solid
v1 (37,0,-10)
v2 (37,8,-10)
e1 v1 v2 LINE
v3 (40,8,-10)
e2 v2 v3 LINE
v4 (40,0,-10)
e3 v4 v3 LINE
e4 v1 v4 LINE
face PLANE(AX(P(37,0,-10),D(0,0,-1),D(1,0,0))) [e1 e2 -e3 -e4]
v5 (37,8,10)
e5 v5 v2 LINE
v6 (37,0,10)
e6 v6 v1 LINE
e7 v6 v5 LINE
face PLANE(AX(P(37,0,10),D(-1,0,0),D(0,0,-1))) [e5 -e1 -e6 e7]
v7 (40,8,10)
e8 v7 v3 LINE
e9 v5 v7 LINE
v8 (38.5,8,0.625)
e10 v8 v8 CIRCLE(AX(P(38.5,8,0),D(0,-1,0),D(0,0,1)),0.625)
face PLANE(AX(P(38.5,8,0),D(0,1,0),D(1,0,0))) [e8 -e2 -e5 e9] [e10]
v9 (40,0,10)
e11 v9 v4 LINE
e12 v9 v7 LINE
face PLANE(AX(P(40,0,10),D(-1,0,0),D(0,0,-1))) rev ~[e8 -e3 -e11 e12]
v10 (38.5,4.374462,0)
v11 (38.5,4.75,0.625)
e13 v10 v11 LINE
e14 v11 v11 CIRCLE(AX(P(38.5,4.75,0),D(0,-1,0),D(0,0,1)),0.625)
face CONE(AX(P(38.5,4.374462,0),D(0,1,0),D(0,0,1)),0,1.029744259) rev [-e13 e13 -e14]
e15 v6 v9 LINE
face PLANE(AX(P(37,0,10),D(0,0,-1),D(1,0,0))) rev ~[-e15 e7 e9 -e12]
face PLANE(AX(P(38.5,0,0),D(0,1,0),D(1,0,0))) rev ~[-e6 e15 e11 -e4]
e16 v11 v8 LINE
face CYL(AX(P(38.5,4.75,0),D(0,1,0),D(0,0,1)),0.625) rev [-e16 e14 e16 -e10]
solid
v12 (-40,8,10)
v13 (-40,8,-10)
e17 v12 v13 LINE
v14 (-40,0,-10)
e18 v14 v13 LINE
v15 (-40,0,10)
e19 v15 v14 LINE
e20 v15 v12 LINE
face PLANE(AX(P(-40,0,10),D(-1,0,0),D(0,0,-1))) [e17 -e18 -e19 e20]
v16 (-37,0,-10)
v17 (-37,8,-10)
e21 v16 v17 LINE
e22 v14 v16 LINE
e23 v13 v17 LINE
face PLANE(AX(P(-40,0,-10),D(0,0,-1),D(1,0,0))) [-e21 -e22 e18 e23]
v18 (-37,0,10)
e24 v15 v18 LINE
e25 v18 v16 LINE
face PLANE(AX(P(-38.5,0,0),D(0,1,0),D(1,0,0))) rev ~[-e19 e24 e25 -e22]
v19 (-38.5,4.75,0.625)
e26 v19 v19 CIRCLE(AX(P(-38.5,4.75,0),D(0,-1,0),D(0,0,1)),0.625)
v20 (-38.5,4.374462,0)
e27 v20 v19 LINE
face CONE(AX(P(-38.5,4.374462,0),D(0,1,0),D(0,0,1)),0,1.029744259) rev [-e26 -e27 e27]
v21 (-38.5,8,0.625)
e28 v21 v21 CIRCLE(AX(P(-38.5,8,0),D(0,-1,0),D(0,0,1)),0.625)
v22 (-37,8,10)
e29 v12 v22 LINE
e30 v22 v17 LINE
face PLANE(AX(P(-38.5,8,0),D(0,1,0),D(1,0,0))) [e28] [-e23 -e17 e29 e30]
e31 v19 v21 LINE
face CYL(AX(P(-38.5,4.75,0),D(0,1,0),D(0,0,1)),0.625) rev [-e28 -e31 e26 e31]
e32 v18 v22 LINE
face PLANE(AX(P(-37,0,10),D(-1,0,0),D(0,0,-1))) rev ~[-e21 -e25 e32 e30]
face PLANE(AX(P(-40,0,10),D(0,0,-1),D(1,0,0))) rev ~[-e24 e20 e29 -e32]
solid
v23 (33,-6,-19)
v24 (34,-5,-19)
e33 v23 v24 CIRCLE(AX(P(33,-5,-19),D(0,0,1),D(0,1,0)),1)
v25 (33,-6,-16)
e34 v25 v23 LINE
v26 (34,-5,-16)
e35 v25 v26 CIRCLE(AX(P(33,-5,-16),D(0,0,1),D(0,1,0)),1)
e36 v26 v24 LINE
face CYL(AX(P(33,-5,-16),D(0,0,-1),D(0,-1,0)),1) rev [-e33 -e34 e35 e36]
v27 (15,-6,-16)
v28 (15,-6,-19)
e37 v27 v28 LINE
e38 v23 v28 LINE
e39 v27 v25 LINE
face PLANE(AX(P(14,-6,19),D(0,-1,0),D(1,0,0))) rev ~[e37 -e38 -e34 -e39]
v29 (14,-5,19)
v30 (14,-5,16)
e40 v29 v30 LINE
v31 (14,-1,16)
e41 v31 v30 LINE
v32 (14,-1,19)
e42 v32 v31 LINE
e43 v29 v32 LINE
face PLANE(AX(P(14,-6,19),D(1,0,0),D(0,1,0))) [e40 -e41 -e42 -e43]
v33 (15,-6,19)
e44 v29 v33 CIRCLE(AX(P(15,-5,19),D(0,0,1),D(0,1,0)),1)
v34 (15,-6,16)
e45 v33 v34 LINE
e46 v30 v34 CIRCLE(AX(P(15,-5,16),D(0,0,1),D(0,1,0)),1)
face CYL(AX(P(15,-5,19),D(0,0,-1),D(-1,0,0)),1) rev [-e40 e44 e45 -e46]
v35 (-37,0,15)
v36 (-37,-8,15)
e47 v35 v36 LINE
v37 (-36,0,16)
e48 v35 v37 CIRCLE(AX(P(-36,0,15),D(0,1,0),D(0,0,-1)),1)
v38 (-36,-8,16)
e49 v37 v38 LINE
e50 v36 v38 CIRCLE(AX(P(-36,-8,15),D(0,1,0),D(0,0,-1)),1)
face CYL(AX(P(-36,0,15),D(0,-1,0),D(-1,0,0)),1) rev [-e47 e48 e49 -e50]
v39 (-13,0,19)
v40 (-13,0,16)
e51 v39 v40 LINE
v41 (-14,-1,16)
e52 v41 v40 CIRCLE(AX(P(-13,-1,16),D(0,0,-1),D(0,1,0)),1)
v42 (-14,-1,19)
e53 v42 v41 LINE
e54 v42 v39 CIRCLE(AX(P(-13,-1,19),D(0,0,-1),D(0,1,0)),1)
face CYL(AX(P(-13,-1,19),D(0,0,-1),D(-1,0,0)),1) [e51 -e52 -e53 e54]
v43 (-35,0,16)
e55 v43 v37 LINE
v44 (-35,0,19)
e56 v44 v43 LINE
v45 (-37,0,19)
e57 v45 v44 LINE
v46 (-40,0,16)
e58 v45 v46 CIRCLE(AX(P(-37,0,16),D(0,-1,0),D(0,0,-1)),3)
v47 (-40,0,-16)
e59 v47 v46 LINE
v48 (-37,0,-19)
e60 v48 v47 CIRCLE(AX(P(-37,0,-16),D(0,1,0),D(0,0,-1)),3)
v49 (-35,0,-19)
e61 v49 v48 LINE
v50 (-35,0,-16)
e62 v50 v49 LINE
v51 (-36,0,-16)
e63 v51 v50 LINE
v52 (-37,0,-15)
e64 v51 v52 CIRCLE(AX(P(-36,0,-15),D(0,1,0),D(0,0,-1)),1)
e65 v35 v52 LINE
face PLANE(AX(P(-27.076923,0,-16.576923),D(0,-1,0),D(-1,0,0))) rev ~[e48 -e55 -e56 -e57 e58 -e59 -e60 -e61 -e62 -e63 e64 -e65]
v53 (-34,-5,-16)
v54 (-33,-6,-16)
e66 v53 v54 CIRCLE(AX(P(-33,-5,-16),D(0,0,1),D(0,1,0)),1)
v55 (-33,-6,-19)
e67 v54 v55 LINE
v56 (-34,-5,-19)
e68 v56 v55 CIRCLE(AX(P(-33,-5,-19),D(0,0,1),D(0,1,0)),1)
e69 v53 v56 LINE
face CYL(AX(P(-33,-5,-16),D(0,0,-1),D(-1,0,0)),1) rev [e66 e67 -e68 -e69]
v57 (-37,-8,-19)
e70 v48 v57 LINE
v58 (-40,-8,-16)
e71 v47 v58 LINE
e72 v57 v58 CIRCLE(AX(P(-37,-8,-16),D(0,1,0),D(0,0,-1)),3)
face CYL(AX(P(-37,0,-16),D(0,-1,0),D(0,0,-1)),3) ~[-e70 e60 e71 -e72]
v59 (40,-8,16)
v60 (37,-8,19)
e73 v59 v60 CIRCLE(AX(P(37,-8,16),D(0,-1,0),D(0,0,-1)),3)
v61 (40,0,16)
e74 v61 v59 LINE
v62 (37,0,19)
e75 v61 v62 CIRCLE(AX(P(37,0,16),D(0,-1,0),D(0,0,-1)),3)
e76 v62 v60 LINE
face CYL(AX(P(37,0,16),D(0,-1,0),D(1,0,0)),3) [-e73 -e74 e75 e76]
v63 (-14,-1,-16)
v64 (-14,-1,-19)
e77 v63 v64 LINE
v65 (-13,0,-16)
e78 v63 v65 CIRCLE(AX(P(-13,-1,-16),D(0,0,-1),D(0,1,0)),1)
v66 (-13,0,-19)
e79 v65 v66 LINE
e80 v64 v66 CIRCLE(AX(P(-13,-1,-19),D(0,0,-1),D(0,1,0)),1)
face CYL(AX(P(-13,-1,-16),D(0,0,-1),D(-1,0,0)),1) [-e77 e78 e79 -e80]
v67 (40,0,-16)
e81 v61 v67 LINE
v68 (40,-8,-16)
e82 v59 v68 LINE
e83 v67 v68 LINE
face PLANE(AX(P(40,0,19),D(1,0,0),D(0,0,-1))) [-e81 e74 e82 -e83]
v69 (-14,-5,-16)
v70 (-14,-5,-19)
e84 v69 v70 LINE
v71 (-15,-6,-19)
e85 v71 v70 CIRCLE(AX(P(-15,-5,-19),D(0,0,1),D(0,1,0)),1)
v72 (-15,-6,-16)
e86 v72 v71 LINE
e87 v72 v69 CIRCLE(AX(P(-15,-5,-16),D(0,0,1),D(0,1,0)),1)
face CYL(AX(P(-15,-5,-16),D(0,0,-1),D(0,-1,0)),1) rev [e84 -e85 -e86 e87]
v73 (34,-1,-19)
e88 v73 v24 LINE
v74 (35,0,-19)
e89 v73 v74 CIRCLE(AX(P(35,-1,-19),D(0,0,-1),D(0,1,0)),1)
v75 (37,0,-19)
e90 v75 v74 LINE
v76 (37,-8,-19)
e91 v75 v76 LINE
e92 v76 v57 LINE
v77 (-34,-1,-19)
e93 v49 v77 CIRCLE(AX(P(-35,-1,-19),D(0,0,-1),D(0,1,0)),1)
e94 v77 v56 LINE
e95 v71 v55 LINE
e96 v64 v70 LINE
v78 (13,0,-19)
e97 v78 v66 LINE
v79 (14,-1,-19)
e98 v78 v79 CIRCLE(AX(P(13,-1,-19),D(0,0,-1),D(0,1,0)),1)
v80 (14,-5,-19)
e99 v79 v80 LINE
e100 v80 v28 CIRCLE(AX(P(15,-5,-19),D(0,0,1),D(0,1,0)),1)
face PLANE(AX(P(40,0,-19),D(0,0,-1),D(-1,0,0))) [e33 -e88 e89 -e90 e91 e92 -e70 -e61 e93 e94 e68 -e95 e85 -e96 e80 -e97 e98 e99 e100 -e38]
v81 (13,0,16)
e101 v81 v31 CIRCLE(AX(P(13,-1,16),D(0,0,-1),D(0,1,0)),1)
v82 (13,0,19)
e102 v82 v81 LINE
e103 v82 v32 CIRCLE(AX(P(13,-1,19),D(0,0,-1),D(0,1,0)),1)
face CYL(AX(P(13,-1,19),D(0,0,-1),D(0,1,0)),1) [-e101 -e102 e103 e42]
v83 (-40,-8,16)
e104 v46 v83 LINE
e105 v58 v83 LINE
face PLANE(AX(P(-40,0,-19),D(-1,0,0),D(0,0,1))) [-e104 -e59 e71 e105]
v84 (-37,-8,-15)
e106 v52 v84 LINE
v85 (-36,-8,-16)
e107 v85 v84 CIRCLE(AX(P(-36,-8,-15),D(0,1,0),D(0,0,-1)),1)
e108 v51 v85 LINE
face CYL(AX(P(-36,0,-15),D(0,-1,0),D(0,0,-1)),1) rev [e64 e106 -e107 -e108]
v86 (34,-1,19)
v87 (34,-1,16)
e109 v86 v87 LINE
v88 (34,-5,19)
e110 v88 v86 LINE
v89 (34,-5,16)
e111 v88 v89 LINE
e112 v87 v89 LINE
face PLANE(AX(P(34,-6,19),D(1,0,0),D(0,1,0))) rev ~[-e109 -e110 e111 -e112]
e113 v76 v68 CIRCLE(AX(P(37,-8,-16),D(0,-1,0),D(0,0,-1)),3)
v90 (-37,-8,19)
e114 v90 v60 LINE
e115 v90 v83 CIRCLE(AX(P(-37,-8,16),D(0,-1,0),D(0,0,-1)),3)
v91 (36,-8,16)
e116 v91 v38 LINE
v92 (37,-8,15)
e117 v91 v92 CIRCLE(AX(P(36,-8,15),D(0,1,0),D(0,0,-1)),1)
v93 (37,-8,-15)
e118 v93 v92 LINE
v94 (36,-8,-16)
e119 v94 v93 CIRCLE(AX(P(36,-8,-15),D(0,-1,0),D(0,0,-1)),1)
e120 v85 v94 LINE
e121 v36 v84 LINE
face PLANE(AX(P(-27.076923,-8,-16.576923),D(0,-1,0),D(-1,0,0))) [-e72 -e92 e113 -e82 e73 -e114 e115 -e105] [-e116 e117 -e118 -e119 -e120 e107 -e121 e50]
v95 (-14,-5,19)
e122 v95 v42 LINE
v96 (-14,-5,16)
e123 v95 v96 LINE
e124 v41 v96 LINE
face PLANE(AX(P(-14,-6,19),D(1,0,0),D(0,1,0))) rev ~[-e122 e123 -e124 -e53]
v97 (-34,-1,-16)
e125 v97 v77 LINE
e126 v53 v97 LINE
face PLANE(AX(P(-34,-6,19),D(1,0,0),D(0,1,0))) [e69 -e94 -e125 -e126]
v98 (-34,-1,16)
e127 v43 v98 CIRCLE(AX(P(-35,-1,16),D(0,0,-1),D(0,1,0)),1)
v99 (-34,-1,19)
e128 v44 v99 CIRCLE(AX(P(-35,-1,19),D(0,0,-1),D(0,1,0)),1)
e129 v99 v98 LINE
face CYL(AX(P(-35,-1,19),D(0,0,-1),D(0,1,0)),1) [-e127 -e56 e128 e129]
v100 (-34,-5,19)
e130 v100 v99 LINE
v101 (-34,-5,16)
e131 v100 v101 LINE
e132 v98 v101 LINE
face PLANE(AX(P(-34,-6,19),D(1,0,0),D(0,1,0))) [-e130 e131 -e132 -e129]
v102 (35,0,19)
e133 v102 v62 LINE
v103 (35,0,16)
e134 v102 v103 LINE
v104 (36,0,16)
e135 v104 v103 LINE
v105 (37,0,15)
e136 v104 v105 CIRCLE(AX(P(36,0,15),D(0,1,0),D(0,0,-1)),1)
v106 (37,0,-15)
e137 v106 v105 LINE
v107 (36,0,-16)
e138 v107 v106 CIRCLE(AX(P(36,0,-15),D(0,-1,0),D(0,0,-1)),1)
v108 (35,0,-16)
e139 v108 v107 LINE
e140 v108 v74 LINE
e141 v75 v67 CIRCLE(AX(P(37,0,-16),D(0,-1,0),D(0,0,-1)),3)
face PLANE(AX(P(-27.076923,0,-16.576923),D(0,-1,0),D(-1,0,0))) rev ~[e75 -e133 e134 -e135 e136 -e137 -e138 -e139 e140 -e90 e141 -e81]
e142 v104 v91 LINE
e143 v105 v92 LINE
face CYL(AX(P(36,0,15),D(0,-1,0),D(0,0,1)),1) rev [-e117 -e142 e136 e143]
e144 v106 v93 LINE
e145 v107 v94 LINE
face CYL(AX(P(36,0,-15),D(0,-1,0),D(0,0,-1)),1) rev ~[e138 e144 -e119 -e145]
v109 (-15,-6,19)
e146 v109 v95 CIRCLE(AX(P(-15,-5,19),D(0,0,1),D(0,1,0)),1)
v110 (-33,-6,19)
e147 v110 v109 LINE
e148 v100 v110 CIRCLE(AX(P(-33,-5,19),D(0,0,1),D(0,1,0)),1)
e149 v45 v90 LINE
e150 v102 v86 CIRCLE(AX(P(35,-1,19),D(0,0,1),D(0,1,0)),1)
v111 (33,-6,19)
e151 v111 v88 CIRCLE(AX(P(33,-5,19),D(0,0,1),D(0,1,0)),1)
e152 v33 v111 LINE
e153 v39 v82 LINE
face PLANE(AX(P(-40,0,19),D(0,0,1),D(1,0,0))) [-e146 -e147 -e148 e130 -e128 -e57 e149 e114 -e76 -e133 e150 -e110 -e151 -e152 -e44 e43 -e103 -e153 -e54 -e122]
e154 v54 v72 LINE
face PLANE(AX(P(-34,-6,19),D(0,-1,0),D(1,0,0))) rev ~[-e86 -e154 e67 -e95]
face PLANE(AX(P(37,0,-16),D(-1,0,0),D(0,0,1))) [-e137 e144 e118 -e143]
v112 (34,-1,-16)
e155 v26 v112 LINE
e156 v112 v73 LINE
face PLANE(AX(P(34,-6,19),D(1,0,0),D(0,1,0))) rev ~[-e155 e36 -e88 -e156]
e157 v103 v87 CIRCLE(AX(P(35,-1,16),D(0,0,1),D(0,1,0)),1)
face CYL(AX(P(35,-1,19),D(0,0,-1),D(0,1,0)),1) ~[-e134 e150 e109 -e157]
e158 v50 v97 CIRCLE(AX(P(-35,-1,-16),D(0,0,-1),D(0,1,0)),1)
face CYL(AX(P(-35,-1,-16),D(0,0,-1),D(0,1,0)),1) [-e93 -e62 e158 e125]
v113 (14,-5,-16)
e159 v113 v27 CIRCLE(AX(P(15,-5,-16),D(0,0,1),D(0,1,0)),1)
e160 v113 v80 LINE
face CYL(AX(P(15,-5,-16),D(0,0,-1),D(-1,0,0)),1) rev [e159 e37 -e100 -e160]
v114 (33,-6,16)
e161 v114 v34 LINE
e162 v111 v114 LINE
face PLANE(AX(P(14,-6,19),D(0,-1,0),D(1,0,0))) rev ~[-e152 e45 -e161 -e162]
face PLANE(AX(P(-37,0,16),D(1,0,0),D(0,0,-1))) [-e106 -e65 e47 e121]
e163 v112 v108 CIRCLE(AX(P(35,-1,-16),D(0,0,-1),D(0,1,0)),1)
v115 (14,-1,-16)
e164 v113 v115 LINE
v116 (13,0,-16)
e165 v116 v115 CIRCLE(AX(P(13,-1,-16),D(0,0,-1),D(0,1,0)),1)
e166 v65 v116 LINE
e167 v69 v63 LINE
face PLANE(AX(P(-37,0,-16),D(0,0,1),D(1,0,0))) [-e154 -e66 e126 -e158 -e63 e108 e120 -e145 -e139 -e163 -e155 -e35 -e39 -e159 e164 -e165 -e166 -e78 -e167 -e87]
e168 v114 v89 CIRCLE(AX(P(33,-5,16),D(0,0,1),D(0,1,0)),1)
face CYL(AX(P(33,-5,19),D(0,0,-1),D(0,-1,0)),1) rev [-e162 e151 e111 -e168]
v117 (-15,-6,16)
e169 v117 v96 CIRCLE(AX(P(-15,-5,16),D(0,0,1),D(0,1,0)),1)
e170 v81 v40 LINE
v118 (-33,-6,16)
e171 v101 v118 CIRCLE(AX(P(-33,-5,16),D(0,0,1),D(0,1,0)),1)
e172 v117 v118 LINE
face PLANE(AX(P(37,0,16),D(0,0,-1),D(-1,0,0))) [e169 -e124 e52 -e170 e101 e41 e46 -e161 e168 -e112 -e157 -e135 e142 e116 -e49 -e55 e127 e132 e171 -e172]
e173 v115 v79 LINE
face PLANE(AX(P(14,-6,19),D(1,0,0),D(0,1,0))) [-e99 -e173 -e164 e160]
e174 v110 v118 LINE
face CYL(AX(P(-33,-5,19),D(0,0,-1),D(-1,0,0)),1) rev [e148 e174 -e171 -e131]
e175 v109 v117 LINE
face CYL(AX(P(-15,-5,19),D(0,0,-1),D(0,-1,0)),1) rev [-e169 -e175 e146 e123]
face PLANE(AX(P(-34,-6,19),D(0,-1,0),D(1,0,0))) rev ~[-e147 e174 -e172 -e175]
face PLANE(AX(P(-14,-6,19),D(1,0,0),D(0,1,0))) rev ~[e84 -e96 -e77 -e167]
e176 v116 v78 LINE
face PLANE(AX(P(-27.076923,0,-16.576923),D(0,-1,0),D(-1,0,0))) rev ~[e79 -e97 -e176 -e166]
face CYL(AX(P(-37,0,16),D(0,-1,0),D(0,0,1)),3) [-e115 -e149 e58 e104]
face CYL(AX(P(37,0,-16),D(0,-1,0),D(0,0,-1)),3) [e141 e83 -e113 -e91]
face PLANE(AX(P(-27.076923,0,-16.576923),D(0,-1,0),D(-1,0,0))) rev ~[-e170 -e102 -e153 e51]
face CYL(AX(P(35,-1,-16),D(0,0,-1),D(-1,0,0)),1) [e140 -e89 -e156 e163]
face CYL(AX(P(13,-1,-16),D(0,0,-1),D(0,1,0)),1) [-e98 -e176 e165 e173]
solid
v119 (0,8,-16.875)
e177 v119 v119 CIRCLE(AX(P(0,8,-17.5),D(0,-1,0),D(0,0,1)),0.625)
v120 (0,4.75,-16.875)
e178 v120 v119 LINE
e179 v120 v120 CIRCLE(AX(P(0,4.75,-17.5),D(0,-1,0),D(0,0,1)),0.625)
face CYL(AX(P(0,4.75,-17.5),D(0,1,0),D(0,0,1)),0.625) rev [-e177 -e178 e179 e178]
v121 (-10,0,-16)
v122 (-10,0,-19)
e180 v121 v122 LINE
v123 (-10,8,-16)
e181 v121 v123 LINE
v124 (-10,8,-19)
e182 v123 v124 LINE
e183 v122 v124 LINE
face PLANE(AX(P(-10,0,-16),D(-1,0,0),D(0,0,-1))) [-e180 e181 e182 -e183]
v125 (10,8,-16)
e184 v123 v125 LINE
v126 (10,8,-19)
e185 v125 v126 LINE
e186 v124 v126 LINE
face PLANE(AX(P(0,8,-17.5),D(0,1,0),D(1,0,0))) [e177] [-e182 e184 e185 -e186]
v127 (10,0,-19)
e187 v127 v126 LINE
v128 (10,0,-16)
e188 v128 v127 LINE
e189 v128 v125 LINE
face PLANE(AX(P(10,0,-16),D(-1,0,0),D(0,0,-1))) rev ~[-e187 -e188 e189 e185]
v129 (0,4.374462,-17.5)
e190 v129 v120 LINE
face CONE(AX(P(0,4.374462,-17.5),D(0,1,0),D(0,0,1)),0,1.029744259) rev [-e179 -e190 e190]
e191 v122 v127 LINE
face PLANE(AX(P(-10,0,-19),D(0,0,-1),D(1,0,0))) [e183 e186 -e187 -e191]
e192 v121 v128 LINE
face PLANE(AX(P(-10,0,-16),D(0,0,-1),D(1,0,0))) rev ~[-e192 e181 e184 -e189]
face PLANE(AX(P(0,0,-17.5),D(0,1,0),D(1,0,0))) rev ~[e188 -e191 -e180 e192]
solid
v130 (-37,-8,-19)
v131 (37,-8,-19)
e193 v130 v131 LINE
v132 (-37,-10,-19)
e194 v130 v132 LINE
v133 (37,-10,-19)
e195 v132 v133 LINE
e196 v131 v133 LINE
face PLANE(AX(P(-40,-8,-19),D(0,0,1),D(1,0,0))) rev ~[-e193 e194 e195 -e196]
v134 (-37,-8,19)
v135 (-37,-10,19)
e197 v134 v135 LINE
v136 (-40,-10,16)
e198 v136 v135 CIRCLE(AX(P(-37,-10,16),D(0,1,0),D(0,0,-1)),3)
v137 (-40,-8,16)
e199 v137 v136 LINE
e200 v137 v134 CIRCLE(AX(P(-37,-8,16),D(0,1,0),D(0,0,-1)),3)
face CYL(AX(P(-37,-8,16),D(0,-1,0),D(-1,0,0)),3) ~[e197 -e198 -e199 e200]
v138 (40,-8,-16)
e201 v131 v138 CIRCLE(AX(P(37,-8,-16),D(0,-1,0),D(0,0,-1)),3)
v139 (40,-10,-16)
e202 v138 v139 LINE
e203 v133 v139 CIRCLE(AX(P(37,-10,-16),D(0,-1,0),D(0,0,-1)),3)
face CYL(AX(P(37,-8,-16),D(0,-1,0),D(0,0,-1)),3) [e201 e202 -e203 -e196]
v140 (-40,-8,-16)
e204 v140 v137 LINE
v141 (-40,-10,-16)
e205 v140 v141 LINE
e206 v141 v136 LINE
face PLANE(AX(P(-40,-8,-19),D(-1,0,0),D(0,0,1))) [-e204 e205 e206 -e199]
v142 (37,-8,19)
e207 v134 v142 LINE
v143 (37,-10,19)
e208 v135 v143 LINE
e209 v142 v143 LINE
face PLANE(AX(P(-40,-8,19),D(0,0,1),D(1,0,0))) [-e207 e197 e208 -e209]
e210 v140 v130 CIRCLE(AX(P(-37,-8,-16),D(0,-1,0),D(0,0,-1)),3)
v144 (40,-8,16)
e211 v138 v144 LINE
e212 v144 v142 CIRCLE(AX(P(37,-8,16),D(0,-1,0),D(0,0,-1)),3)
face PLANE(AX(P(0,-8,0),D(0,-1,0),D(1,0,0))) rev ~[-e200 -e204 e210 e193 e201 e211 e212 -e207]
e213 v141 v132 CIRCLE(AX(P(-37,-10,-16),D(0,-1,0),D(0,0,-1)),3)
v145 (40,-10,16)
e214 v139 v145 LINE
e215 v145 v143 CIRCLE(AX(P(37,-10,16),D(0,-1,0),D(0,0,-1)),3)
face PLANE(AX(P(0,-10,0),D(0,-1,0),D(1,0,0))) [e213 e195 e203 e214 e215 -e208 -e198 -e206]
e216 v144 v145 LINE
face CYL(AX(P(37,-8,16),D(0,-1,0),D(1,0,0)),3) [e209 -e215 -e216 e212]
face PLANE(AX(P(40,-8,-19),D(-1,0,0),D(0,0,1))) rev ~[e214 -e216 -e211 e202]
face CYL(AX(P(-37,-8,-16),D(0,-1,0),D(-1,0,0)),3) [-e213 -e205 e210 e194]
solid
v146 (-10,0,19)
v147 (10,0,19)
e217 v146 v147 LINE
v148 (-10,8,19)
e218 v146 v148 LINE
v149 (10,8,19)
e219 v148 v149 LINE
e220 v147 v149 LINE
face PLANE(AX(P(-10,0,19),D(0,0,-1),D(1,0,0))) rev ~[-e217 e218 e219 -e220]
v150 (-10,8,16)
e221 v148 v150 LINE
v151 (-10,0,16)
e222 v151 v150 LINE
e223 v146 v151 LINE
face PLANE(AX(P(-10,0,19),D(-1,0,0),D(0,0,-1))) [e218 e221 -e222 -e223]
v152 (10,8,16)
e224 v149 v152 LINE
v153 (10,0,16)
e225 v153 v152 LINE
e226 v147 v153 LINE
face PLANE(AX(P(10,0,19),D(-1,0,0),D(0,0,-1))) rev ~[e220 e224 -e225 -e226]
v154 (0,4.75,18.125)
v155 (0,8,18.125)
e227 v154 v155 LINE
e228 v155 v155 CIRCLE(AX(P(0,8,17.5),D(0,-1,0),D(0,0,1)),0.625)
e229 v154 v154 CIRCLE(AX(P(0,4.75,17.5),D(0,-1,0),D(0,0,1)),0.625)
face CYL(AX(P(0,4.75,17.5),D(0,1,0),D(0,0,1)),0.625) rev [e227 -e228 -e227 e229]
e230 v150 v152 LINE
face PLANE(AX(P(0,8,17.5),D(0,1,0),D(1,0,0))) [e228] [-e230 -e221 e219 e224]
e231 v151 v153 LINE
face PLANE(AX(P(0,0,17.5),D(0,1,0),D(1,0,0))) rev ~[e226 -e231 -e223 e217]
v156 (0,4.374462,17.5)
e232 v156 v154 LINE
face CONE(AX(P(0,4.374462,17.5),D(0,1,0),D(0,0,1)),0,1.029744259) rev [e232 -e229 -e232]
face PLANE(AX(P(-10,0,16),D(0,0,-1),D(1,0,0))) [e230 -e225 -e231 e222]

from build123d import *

# Parameters (mm, degrees)
SKETCH1_W                         = 3
SKETCH1_H                         = 20
SKETCH1_W_2                       = 20
SKETCH1_H_2                       = 3
BOSS_EXTRUDE1_DEPTH               = 8
SKETCH1_4_W                       = 3
SKETCH1_4_H                       = 20
BOSS_EXTRUDE4_DEPTH               = 8
SKETCH1_4_W_2                     = 20
SKETCH1_4_H_2                     = 3
BOSS_EXTRUDE4_2_DEPTH             = 8
BOSS_EXTRUDE4_3_DEPTH             = 8
BOSS_EXTRUDE4_4_DEPTH             = 8
SKETCH2_W                         = 80
SKETCH2_H                         = 38
BOSS_EXTRUDE2_DEPTH               = 2
FILLET2_R                         = 3
FILLET1_R                         = 3
FILLET3_R                         = 1
SKETCH4_W                         = 20
SKETCH4_H                         = 6
CUT_EXTRUDE1_DEPTH                = 1
CUT_EXTRUDE1_DEPTH_BACK           = 39
FILLET4_R                         = 1
M1_6X0_35_TAPPED_HOLE1_AT_2_COUNT = 2
M1_6X0_35_TAPPED_HOLE1_AT_2_PITCH = 42.290660908
M1_6X0_35_TAPPED_HOLE1_AT_3_COUNT = 2
M1_6X0_35_TAPPED_HOLE1_AT_3_PITCH = 42.290660908
M1_6X0_35_TAPPED_HOLE1_AT_4_COUNT = 2
M1_6X0_35_TAPPED_HOLE1_AT_4_PITCH = 77


with BuildPart() as part:
    # Sketch1 → Boss-Extrude1 (new body)
    with BuildSketch(Plane(origin=(0, 0, 0), x_dir=(1, 0, 0), z_dir=(0, 1, 0))):
        Polygon((-40, 19), (-10, 19), (-10, 16), (-37, 16), (-37, 10), (-40, 10), align=None)
        with Locations((-38.5, 0)):
            Rectangle(SKETCH1_W, SKETCH1_H)
        Polygon((-40, -19), (-10, -19), (-10, -16), (-37, -16), (-37, -10), (-40, -10), align=None)
        with Locations((0, -17.5)):
            Rectangle(SKETCH1_W_2, SKETCH1_H_2)
        Polygon((40, -10), (40, -19), (10, -19), (10, -16), (37, -16), (37, -10), align=None)
        with Locations((38.5, 0)):
            Rectangle(SKETCH1_W, SKETCH1_H)
        Polygon((40, 10), (37, 10), (37, 16), (10, 16), (10, 19), (40, 19), align=None)
        with Locations((0, 17.5)):
            Rectangle(SKETCH1_W_2, SKETCH1_H_2)
    extrude(amount=-BOSS_EXTRUDE1_DEPTH)

    # Fillet1
    fillet1_edges = [part.edges().sort_by_distance(p)[0] for p in [
        (40, -4, -19),
        (40, -4, 19),
        (-40, -4, 19),
        (-40, -4, -19),
    ]]
    fillet(fillet1_edges, radius=FILLET1_R)

    # Fillet3
    fillet3_edges = [part.edges().sort_by_distance(p)[0] for p in [
        (37, -4, -16),
        (-37, -4, -16),
        (-37, -4, 16),
        (37, -4, 16),
    ]]
    fillet(fillet3_edges, radius=FILLET3_R)

    # Sketch4 → Cut-Extrude1 (cut, two sides)
    with BuildSketch(Plane.XY.offset(19)) as cut_extrude1_sk:
        with Locations((-24, -3)):
            Rectangle(SKETCH4_W, SKETCH4_H)
        with Locations((24, -3)):
            Rectangle(SKETCH4_W, SKETCH4_H)
    extrude(amount=CUT_EXTRUDE1_DEPTH, mode=Mode.SUBTRACT)
    extrude(cut_extrude1_sk.sketch, amount=-CUT_EXTRUDE1_DEPTH_BACK, mode=Mode.SUBTRACT)

    # Fillet4
    fillet4_edges = [part.edges().sort_by_distance(p)[0] for p in [
        (14, 0, 17.5),
        (34, 0, 17.5),
        (-34, 0, 17.5),
        (-14, 0, 17.5),
        (-14, -6, 17.5),
        (-34, -6, 17.5),
        (-14, 0, -17.5),
        (-14, -6, -17.5),
        (-34, -6, -17.5),
        (-34, 0, -17.5),
        (34, -6, 17.5),
        (14, -6, 17.5),
        (34, 0, -17.5),
        (34, -6, -17.5),
        (14, -6, -17.5),
        (14, 0, -17.5),
    ]]
    fillet(fillet4_edges, radius=FILLET4_R)


with BuildPart() as body_2:
    # Sketch1<4> → Boss-Extrude4 (new body)
    with BuildSketch(Plane(origin=(0, 0, 0), x_dir=(1, 0, 0), z_dir=(0, 1, 0))):
        with Locations((-38.5, 0)):
            Rectangle(SKETCH1_4_W, SKETCH1_4_H)
    extrude(amount=BOSS_EXTRUDE4_DEPTH)


with BuildPart() as body_3:
    # Sketch1<4> → Boss-Extrude4 2 (new body)
    with BuildSketch(Plane(origin=(0, 0, 0), x_dir=(1, 0, 0), z_dir=(0, 1, 0))):
        with Locations((0, 17.5)):
            Rectangle(SKETCH1_4_W_2, SKETCH1_4_H_2)
    extrude(amount=BOSS_EXTRUDE4_2_DEPTH)


with BuildPart() as body_4:
    # Sketch1<4> → Boss-Extrude4 3 (new body)
    with BuildSketch(Plane(origin=(0, 0, 0), x_dir=(1, 0, 0), z_dir=(0, 1, 0))):
        with Locations((0, -17.5)):
            Rectangle(SKETCH1_4_W_2, SKETCH1_4_H_2)
    extrude(amount=BOSS_EXTRUDE4_3_DEPTH)


with BuildPart() as body_5:
    # Sketch1<4> → Boss-Extrude4 4 (new body)
    with BuildSketch(Plane(origin=(0, 0, 0), x_dir=(1, 0, 0), z_dir=(0, 1, 0))):
        with Locations((38.5, 0)):
            Rectangle(SKETCH1_4_W, SKETCH1_4_H)
    extrude(amount=BOSS_EXTRUDE4_4_DEPTH)

    # Sketch6 → M1.6x0.35 Tapped Hole1 (revolve, cut)
    with BuildSketch(Plane(origin=(38.5, 8, 0), x_dir=(0, 0, 1), z_dir=(1, 0, 0))):
        Polygon((0, 0), (0, 3.625537887), (0.625, 3.25), (0.625, 0), align=None)
    m1_6x0_35_tapped_hole1 = revolve(axis=Axis((38.5, 14.35, 0), (0, -1, 0)), mode=Mode.SUBTRACT)


with BuildPart() as body_6:
    # Sketch2 → Boss-Extrude2 (new body)
    with BuildSketch(Plane.XZ.offset(8)):
        Rectangle(SKETCH2_W, SKETCH2_H)
    extrude(amount=BOSS_EXTRUDE2_DEPTH)

    # Fillet2
    fillet2_edges = [body_6.edges().sort_by_distance(p)[0] for p in [
        (-40, -9, 19),
        (40, -9, 19),
        (40, -9, -19),
        (-40, -9, -19),
    ]]
    fillet(fillet2_edges, radius=FILLET2_R)


with BuildPart() as body_3_1:
    add(body_3.part)

    # M1.6x0.35 Tapped Hole1 at 2: M1.6x0.35 Tapped Hole1 ×2
    with Locations(*[Vector(-0.910366477, 0, -0.413802944) * (i * M1_6X0_35_TAPPED_HOLE1_AT_2_PITCH) for i in range(1, M1_6X0_35_TAPPED_HOLE1_AT_2_COUNT)]):
        add(m1_6x0_35_tapped_hole1, mode=Mode.SUBTRACT)


with BuildPart() as body_4_1:
    add(body_4.part)

    # M1.6x0.35 Tapped Hole1 at 3: M1.6x0.35 Tapped Hole1 ×2
    with Locations(*[Vector(-0.910366477, 0, 0.413802944) * (i * M1_6X0_35_TAPPED_HOLE1_AT_3_PITCH) for i in range(1, M1_6X0_35_TAPPED_HOLE1_AT_3_COUNT)]):
        add(m1_6x0_35_tapped_hole1, mode=Mode.SUBTRACT)


with BuildPart() as body_2_1:
    add(body_2.part)

    # M1.6x0.35 Tapped Hole1 at 4: M1.6x0.35 Tapped Hole1 ×2
    with Locations(*[(-i * M1_6X0_35_TAPPED_HOLE1_AT_4_PITCH, 0, 0) for i in range(1, M1_6X0_35_TAPPED_HOLE1_AT_4_COUNT)]):
        add(m1_6x0_35_tapped_hole1, mode=Mode.SUBTRACT)


solid = Compound([part.part, body_5.part, body_6.part, body_3_1.part, body_4_1.part, body_2_1.part])
